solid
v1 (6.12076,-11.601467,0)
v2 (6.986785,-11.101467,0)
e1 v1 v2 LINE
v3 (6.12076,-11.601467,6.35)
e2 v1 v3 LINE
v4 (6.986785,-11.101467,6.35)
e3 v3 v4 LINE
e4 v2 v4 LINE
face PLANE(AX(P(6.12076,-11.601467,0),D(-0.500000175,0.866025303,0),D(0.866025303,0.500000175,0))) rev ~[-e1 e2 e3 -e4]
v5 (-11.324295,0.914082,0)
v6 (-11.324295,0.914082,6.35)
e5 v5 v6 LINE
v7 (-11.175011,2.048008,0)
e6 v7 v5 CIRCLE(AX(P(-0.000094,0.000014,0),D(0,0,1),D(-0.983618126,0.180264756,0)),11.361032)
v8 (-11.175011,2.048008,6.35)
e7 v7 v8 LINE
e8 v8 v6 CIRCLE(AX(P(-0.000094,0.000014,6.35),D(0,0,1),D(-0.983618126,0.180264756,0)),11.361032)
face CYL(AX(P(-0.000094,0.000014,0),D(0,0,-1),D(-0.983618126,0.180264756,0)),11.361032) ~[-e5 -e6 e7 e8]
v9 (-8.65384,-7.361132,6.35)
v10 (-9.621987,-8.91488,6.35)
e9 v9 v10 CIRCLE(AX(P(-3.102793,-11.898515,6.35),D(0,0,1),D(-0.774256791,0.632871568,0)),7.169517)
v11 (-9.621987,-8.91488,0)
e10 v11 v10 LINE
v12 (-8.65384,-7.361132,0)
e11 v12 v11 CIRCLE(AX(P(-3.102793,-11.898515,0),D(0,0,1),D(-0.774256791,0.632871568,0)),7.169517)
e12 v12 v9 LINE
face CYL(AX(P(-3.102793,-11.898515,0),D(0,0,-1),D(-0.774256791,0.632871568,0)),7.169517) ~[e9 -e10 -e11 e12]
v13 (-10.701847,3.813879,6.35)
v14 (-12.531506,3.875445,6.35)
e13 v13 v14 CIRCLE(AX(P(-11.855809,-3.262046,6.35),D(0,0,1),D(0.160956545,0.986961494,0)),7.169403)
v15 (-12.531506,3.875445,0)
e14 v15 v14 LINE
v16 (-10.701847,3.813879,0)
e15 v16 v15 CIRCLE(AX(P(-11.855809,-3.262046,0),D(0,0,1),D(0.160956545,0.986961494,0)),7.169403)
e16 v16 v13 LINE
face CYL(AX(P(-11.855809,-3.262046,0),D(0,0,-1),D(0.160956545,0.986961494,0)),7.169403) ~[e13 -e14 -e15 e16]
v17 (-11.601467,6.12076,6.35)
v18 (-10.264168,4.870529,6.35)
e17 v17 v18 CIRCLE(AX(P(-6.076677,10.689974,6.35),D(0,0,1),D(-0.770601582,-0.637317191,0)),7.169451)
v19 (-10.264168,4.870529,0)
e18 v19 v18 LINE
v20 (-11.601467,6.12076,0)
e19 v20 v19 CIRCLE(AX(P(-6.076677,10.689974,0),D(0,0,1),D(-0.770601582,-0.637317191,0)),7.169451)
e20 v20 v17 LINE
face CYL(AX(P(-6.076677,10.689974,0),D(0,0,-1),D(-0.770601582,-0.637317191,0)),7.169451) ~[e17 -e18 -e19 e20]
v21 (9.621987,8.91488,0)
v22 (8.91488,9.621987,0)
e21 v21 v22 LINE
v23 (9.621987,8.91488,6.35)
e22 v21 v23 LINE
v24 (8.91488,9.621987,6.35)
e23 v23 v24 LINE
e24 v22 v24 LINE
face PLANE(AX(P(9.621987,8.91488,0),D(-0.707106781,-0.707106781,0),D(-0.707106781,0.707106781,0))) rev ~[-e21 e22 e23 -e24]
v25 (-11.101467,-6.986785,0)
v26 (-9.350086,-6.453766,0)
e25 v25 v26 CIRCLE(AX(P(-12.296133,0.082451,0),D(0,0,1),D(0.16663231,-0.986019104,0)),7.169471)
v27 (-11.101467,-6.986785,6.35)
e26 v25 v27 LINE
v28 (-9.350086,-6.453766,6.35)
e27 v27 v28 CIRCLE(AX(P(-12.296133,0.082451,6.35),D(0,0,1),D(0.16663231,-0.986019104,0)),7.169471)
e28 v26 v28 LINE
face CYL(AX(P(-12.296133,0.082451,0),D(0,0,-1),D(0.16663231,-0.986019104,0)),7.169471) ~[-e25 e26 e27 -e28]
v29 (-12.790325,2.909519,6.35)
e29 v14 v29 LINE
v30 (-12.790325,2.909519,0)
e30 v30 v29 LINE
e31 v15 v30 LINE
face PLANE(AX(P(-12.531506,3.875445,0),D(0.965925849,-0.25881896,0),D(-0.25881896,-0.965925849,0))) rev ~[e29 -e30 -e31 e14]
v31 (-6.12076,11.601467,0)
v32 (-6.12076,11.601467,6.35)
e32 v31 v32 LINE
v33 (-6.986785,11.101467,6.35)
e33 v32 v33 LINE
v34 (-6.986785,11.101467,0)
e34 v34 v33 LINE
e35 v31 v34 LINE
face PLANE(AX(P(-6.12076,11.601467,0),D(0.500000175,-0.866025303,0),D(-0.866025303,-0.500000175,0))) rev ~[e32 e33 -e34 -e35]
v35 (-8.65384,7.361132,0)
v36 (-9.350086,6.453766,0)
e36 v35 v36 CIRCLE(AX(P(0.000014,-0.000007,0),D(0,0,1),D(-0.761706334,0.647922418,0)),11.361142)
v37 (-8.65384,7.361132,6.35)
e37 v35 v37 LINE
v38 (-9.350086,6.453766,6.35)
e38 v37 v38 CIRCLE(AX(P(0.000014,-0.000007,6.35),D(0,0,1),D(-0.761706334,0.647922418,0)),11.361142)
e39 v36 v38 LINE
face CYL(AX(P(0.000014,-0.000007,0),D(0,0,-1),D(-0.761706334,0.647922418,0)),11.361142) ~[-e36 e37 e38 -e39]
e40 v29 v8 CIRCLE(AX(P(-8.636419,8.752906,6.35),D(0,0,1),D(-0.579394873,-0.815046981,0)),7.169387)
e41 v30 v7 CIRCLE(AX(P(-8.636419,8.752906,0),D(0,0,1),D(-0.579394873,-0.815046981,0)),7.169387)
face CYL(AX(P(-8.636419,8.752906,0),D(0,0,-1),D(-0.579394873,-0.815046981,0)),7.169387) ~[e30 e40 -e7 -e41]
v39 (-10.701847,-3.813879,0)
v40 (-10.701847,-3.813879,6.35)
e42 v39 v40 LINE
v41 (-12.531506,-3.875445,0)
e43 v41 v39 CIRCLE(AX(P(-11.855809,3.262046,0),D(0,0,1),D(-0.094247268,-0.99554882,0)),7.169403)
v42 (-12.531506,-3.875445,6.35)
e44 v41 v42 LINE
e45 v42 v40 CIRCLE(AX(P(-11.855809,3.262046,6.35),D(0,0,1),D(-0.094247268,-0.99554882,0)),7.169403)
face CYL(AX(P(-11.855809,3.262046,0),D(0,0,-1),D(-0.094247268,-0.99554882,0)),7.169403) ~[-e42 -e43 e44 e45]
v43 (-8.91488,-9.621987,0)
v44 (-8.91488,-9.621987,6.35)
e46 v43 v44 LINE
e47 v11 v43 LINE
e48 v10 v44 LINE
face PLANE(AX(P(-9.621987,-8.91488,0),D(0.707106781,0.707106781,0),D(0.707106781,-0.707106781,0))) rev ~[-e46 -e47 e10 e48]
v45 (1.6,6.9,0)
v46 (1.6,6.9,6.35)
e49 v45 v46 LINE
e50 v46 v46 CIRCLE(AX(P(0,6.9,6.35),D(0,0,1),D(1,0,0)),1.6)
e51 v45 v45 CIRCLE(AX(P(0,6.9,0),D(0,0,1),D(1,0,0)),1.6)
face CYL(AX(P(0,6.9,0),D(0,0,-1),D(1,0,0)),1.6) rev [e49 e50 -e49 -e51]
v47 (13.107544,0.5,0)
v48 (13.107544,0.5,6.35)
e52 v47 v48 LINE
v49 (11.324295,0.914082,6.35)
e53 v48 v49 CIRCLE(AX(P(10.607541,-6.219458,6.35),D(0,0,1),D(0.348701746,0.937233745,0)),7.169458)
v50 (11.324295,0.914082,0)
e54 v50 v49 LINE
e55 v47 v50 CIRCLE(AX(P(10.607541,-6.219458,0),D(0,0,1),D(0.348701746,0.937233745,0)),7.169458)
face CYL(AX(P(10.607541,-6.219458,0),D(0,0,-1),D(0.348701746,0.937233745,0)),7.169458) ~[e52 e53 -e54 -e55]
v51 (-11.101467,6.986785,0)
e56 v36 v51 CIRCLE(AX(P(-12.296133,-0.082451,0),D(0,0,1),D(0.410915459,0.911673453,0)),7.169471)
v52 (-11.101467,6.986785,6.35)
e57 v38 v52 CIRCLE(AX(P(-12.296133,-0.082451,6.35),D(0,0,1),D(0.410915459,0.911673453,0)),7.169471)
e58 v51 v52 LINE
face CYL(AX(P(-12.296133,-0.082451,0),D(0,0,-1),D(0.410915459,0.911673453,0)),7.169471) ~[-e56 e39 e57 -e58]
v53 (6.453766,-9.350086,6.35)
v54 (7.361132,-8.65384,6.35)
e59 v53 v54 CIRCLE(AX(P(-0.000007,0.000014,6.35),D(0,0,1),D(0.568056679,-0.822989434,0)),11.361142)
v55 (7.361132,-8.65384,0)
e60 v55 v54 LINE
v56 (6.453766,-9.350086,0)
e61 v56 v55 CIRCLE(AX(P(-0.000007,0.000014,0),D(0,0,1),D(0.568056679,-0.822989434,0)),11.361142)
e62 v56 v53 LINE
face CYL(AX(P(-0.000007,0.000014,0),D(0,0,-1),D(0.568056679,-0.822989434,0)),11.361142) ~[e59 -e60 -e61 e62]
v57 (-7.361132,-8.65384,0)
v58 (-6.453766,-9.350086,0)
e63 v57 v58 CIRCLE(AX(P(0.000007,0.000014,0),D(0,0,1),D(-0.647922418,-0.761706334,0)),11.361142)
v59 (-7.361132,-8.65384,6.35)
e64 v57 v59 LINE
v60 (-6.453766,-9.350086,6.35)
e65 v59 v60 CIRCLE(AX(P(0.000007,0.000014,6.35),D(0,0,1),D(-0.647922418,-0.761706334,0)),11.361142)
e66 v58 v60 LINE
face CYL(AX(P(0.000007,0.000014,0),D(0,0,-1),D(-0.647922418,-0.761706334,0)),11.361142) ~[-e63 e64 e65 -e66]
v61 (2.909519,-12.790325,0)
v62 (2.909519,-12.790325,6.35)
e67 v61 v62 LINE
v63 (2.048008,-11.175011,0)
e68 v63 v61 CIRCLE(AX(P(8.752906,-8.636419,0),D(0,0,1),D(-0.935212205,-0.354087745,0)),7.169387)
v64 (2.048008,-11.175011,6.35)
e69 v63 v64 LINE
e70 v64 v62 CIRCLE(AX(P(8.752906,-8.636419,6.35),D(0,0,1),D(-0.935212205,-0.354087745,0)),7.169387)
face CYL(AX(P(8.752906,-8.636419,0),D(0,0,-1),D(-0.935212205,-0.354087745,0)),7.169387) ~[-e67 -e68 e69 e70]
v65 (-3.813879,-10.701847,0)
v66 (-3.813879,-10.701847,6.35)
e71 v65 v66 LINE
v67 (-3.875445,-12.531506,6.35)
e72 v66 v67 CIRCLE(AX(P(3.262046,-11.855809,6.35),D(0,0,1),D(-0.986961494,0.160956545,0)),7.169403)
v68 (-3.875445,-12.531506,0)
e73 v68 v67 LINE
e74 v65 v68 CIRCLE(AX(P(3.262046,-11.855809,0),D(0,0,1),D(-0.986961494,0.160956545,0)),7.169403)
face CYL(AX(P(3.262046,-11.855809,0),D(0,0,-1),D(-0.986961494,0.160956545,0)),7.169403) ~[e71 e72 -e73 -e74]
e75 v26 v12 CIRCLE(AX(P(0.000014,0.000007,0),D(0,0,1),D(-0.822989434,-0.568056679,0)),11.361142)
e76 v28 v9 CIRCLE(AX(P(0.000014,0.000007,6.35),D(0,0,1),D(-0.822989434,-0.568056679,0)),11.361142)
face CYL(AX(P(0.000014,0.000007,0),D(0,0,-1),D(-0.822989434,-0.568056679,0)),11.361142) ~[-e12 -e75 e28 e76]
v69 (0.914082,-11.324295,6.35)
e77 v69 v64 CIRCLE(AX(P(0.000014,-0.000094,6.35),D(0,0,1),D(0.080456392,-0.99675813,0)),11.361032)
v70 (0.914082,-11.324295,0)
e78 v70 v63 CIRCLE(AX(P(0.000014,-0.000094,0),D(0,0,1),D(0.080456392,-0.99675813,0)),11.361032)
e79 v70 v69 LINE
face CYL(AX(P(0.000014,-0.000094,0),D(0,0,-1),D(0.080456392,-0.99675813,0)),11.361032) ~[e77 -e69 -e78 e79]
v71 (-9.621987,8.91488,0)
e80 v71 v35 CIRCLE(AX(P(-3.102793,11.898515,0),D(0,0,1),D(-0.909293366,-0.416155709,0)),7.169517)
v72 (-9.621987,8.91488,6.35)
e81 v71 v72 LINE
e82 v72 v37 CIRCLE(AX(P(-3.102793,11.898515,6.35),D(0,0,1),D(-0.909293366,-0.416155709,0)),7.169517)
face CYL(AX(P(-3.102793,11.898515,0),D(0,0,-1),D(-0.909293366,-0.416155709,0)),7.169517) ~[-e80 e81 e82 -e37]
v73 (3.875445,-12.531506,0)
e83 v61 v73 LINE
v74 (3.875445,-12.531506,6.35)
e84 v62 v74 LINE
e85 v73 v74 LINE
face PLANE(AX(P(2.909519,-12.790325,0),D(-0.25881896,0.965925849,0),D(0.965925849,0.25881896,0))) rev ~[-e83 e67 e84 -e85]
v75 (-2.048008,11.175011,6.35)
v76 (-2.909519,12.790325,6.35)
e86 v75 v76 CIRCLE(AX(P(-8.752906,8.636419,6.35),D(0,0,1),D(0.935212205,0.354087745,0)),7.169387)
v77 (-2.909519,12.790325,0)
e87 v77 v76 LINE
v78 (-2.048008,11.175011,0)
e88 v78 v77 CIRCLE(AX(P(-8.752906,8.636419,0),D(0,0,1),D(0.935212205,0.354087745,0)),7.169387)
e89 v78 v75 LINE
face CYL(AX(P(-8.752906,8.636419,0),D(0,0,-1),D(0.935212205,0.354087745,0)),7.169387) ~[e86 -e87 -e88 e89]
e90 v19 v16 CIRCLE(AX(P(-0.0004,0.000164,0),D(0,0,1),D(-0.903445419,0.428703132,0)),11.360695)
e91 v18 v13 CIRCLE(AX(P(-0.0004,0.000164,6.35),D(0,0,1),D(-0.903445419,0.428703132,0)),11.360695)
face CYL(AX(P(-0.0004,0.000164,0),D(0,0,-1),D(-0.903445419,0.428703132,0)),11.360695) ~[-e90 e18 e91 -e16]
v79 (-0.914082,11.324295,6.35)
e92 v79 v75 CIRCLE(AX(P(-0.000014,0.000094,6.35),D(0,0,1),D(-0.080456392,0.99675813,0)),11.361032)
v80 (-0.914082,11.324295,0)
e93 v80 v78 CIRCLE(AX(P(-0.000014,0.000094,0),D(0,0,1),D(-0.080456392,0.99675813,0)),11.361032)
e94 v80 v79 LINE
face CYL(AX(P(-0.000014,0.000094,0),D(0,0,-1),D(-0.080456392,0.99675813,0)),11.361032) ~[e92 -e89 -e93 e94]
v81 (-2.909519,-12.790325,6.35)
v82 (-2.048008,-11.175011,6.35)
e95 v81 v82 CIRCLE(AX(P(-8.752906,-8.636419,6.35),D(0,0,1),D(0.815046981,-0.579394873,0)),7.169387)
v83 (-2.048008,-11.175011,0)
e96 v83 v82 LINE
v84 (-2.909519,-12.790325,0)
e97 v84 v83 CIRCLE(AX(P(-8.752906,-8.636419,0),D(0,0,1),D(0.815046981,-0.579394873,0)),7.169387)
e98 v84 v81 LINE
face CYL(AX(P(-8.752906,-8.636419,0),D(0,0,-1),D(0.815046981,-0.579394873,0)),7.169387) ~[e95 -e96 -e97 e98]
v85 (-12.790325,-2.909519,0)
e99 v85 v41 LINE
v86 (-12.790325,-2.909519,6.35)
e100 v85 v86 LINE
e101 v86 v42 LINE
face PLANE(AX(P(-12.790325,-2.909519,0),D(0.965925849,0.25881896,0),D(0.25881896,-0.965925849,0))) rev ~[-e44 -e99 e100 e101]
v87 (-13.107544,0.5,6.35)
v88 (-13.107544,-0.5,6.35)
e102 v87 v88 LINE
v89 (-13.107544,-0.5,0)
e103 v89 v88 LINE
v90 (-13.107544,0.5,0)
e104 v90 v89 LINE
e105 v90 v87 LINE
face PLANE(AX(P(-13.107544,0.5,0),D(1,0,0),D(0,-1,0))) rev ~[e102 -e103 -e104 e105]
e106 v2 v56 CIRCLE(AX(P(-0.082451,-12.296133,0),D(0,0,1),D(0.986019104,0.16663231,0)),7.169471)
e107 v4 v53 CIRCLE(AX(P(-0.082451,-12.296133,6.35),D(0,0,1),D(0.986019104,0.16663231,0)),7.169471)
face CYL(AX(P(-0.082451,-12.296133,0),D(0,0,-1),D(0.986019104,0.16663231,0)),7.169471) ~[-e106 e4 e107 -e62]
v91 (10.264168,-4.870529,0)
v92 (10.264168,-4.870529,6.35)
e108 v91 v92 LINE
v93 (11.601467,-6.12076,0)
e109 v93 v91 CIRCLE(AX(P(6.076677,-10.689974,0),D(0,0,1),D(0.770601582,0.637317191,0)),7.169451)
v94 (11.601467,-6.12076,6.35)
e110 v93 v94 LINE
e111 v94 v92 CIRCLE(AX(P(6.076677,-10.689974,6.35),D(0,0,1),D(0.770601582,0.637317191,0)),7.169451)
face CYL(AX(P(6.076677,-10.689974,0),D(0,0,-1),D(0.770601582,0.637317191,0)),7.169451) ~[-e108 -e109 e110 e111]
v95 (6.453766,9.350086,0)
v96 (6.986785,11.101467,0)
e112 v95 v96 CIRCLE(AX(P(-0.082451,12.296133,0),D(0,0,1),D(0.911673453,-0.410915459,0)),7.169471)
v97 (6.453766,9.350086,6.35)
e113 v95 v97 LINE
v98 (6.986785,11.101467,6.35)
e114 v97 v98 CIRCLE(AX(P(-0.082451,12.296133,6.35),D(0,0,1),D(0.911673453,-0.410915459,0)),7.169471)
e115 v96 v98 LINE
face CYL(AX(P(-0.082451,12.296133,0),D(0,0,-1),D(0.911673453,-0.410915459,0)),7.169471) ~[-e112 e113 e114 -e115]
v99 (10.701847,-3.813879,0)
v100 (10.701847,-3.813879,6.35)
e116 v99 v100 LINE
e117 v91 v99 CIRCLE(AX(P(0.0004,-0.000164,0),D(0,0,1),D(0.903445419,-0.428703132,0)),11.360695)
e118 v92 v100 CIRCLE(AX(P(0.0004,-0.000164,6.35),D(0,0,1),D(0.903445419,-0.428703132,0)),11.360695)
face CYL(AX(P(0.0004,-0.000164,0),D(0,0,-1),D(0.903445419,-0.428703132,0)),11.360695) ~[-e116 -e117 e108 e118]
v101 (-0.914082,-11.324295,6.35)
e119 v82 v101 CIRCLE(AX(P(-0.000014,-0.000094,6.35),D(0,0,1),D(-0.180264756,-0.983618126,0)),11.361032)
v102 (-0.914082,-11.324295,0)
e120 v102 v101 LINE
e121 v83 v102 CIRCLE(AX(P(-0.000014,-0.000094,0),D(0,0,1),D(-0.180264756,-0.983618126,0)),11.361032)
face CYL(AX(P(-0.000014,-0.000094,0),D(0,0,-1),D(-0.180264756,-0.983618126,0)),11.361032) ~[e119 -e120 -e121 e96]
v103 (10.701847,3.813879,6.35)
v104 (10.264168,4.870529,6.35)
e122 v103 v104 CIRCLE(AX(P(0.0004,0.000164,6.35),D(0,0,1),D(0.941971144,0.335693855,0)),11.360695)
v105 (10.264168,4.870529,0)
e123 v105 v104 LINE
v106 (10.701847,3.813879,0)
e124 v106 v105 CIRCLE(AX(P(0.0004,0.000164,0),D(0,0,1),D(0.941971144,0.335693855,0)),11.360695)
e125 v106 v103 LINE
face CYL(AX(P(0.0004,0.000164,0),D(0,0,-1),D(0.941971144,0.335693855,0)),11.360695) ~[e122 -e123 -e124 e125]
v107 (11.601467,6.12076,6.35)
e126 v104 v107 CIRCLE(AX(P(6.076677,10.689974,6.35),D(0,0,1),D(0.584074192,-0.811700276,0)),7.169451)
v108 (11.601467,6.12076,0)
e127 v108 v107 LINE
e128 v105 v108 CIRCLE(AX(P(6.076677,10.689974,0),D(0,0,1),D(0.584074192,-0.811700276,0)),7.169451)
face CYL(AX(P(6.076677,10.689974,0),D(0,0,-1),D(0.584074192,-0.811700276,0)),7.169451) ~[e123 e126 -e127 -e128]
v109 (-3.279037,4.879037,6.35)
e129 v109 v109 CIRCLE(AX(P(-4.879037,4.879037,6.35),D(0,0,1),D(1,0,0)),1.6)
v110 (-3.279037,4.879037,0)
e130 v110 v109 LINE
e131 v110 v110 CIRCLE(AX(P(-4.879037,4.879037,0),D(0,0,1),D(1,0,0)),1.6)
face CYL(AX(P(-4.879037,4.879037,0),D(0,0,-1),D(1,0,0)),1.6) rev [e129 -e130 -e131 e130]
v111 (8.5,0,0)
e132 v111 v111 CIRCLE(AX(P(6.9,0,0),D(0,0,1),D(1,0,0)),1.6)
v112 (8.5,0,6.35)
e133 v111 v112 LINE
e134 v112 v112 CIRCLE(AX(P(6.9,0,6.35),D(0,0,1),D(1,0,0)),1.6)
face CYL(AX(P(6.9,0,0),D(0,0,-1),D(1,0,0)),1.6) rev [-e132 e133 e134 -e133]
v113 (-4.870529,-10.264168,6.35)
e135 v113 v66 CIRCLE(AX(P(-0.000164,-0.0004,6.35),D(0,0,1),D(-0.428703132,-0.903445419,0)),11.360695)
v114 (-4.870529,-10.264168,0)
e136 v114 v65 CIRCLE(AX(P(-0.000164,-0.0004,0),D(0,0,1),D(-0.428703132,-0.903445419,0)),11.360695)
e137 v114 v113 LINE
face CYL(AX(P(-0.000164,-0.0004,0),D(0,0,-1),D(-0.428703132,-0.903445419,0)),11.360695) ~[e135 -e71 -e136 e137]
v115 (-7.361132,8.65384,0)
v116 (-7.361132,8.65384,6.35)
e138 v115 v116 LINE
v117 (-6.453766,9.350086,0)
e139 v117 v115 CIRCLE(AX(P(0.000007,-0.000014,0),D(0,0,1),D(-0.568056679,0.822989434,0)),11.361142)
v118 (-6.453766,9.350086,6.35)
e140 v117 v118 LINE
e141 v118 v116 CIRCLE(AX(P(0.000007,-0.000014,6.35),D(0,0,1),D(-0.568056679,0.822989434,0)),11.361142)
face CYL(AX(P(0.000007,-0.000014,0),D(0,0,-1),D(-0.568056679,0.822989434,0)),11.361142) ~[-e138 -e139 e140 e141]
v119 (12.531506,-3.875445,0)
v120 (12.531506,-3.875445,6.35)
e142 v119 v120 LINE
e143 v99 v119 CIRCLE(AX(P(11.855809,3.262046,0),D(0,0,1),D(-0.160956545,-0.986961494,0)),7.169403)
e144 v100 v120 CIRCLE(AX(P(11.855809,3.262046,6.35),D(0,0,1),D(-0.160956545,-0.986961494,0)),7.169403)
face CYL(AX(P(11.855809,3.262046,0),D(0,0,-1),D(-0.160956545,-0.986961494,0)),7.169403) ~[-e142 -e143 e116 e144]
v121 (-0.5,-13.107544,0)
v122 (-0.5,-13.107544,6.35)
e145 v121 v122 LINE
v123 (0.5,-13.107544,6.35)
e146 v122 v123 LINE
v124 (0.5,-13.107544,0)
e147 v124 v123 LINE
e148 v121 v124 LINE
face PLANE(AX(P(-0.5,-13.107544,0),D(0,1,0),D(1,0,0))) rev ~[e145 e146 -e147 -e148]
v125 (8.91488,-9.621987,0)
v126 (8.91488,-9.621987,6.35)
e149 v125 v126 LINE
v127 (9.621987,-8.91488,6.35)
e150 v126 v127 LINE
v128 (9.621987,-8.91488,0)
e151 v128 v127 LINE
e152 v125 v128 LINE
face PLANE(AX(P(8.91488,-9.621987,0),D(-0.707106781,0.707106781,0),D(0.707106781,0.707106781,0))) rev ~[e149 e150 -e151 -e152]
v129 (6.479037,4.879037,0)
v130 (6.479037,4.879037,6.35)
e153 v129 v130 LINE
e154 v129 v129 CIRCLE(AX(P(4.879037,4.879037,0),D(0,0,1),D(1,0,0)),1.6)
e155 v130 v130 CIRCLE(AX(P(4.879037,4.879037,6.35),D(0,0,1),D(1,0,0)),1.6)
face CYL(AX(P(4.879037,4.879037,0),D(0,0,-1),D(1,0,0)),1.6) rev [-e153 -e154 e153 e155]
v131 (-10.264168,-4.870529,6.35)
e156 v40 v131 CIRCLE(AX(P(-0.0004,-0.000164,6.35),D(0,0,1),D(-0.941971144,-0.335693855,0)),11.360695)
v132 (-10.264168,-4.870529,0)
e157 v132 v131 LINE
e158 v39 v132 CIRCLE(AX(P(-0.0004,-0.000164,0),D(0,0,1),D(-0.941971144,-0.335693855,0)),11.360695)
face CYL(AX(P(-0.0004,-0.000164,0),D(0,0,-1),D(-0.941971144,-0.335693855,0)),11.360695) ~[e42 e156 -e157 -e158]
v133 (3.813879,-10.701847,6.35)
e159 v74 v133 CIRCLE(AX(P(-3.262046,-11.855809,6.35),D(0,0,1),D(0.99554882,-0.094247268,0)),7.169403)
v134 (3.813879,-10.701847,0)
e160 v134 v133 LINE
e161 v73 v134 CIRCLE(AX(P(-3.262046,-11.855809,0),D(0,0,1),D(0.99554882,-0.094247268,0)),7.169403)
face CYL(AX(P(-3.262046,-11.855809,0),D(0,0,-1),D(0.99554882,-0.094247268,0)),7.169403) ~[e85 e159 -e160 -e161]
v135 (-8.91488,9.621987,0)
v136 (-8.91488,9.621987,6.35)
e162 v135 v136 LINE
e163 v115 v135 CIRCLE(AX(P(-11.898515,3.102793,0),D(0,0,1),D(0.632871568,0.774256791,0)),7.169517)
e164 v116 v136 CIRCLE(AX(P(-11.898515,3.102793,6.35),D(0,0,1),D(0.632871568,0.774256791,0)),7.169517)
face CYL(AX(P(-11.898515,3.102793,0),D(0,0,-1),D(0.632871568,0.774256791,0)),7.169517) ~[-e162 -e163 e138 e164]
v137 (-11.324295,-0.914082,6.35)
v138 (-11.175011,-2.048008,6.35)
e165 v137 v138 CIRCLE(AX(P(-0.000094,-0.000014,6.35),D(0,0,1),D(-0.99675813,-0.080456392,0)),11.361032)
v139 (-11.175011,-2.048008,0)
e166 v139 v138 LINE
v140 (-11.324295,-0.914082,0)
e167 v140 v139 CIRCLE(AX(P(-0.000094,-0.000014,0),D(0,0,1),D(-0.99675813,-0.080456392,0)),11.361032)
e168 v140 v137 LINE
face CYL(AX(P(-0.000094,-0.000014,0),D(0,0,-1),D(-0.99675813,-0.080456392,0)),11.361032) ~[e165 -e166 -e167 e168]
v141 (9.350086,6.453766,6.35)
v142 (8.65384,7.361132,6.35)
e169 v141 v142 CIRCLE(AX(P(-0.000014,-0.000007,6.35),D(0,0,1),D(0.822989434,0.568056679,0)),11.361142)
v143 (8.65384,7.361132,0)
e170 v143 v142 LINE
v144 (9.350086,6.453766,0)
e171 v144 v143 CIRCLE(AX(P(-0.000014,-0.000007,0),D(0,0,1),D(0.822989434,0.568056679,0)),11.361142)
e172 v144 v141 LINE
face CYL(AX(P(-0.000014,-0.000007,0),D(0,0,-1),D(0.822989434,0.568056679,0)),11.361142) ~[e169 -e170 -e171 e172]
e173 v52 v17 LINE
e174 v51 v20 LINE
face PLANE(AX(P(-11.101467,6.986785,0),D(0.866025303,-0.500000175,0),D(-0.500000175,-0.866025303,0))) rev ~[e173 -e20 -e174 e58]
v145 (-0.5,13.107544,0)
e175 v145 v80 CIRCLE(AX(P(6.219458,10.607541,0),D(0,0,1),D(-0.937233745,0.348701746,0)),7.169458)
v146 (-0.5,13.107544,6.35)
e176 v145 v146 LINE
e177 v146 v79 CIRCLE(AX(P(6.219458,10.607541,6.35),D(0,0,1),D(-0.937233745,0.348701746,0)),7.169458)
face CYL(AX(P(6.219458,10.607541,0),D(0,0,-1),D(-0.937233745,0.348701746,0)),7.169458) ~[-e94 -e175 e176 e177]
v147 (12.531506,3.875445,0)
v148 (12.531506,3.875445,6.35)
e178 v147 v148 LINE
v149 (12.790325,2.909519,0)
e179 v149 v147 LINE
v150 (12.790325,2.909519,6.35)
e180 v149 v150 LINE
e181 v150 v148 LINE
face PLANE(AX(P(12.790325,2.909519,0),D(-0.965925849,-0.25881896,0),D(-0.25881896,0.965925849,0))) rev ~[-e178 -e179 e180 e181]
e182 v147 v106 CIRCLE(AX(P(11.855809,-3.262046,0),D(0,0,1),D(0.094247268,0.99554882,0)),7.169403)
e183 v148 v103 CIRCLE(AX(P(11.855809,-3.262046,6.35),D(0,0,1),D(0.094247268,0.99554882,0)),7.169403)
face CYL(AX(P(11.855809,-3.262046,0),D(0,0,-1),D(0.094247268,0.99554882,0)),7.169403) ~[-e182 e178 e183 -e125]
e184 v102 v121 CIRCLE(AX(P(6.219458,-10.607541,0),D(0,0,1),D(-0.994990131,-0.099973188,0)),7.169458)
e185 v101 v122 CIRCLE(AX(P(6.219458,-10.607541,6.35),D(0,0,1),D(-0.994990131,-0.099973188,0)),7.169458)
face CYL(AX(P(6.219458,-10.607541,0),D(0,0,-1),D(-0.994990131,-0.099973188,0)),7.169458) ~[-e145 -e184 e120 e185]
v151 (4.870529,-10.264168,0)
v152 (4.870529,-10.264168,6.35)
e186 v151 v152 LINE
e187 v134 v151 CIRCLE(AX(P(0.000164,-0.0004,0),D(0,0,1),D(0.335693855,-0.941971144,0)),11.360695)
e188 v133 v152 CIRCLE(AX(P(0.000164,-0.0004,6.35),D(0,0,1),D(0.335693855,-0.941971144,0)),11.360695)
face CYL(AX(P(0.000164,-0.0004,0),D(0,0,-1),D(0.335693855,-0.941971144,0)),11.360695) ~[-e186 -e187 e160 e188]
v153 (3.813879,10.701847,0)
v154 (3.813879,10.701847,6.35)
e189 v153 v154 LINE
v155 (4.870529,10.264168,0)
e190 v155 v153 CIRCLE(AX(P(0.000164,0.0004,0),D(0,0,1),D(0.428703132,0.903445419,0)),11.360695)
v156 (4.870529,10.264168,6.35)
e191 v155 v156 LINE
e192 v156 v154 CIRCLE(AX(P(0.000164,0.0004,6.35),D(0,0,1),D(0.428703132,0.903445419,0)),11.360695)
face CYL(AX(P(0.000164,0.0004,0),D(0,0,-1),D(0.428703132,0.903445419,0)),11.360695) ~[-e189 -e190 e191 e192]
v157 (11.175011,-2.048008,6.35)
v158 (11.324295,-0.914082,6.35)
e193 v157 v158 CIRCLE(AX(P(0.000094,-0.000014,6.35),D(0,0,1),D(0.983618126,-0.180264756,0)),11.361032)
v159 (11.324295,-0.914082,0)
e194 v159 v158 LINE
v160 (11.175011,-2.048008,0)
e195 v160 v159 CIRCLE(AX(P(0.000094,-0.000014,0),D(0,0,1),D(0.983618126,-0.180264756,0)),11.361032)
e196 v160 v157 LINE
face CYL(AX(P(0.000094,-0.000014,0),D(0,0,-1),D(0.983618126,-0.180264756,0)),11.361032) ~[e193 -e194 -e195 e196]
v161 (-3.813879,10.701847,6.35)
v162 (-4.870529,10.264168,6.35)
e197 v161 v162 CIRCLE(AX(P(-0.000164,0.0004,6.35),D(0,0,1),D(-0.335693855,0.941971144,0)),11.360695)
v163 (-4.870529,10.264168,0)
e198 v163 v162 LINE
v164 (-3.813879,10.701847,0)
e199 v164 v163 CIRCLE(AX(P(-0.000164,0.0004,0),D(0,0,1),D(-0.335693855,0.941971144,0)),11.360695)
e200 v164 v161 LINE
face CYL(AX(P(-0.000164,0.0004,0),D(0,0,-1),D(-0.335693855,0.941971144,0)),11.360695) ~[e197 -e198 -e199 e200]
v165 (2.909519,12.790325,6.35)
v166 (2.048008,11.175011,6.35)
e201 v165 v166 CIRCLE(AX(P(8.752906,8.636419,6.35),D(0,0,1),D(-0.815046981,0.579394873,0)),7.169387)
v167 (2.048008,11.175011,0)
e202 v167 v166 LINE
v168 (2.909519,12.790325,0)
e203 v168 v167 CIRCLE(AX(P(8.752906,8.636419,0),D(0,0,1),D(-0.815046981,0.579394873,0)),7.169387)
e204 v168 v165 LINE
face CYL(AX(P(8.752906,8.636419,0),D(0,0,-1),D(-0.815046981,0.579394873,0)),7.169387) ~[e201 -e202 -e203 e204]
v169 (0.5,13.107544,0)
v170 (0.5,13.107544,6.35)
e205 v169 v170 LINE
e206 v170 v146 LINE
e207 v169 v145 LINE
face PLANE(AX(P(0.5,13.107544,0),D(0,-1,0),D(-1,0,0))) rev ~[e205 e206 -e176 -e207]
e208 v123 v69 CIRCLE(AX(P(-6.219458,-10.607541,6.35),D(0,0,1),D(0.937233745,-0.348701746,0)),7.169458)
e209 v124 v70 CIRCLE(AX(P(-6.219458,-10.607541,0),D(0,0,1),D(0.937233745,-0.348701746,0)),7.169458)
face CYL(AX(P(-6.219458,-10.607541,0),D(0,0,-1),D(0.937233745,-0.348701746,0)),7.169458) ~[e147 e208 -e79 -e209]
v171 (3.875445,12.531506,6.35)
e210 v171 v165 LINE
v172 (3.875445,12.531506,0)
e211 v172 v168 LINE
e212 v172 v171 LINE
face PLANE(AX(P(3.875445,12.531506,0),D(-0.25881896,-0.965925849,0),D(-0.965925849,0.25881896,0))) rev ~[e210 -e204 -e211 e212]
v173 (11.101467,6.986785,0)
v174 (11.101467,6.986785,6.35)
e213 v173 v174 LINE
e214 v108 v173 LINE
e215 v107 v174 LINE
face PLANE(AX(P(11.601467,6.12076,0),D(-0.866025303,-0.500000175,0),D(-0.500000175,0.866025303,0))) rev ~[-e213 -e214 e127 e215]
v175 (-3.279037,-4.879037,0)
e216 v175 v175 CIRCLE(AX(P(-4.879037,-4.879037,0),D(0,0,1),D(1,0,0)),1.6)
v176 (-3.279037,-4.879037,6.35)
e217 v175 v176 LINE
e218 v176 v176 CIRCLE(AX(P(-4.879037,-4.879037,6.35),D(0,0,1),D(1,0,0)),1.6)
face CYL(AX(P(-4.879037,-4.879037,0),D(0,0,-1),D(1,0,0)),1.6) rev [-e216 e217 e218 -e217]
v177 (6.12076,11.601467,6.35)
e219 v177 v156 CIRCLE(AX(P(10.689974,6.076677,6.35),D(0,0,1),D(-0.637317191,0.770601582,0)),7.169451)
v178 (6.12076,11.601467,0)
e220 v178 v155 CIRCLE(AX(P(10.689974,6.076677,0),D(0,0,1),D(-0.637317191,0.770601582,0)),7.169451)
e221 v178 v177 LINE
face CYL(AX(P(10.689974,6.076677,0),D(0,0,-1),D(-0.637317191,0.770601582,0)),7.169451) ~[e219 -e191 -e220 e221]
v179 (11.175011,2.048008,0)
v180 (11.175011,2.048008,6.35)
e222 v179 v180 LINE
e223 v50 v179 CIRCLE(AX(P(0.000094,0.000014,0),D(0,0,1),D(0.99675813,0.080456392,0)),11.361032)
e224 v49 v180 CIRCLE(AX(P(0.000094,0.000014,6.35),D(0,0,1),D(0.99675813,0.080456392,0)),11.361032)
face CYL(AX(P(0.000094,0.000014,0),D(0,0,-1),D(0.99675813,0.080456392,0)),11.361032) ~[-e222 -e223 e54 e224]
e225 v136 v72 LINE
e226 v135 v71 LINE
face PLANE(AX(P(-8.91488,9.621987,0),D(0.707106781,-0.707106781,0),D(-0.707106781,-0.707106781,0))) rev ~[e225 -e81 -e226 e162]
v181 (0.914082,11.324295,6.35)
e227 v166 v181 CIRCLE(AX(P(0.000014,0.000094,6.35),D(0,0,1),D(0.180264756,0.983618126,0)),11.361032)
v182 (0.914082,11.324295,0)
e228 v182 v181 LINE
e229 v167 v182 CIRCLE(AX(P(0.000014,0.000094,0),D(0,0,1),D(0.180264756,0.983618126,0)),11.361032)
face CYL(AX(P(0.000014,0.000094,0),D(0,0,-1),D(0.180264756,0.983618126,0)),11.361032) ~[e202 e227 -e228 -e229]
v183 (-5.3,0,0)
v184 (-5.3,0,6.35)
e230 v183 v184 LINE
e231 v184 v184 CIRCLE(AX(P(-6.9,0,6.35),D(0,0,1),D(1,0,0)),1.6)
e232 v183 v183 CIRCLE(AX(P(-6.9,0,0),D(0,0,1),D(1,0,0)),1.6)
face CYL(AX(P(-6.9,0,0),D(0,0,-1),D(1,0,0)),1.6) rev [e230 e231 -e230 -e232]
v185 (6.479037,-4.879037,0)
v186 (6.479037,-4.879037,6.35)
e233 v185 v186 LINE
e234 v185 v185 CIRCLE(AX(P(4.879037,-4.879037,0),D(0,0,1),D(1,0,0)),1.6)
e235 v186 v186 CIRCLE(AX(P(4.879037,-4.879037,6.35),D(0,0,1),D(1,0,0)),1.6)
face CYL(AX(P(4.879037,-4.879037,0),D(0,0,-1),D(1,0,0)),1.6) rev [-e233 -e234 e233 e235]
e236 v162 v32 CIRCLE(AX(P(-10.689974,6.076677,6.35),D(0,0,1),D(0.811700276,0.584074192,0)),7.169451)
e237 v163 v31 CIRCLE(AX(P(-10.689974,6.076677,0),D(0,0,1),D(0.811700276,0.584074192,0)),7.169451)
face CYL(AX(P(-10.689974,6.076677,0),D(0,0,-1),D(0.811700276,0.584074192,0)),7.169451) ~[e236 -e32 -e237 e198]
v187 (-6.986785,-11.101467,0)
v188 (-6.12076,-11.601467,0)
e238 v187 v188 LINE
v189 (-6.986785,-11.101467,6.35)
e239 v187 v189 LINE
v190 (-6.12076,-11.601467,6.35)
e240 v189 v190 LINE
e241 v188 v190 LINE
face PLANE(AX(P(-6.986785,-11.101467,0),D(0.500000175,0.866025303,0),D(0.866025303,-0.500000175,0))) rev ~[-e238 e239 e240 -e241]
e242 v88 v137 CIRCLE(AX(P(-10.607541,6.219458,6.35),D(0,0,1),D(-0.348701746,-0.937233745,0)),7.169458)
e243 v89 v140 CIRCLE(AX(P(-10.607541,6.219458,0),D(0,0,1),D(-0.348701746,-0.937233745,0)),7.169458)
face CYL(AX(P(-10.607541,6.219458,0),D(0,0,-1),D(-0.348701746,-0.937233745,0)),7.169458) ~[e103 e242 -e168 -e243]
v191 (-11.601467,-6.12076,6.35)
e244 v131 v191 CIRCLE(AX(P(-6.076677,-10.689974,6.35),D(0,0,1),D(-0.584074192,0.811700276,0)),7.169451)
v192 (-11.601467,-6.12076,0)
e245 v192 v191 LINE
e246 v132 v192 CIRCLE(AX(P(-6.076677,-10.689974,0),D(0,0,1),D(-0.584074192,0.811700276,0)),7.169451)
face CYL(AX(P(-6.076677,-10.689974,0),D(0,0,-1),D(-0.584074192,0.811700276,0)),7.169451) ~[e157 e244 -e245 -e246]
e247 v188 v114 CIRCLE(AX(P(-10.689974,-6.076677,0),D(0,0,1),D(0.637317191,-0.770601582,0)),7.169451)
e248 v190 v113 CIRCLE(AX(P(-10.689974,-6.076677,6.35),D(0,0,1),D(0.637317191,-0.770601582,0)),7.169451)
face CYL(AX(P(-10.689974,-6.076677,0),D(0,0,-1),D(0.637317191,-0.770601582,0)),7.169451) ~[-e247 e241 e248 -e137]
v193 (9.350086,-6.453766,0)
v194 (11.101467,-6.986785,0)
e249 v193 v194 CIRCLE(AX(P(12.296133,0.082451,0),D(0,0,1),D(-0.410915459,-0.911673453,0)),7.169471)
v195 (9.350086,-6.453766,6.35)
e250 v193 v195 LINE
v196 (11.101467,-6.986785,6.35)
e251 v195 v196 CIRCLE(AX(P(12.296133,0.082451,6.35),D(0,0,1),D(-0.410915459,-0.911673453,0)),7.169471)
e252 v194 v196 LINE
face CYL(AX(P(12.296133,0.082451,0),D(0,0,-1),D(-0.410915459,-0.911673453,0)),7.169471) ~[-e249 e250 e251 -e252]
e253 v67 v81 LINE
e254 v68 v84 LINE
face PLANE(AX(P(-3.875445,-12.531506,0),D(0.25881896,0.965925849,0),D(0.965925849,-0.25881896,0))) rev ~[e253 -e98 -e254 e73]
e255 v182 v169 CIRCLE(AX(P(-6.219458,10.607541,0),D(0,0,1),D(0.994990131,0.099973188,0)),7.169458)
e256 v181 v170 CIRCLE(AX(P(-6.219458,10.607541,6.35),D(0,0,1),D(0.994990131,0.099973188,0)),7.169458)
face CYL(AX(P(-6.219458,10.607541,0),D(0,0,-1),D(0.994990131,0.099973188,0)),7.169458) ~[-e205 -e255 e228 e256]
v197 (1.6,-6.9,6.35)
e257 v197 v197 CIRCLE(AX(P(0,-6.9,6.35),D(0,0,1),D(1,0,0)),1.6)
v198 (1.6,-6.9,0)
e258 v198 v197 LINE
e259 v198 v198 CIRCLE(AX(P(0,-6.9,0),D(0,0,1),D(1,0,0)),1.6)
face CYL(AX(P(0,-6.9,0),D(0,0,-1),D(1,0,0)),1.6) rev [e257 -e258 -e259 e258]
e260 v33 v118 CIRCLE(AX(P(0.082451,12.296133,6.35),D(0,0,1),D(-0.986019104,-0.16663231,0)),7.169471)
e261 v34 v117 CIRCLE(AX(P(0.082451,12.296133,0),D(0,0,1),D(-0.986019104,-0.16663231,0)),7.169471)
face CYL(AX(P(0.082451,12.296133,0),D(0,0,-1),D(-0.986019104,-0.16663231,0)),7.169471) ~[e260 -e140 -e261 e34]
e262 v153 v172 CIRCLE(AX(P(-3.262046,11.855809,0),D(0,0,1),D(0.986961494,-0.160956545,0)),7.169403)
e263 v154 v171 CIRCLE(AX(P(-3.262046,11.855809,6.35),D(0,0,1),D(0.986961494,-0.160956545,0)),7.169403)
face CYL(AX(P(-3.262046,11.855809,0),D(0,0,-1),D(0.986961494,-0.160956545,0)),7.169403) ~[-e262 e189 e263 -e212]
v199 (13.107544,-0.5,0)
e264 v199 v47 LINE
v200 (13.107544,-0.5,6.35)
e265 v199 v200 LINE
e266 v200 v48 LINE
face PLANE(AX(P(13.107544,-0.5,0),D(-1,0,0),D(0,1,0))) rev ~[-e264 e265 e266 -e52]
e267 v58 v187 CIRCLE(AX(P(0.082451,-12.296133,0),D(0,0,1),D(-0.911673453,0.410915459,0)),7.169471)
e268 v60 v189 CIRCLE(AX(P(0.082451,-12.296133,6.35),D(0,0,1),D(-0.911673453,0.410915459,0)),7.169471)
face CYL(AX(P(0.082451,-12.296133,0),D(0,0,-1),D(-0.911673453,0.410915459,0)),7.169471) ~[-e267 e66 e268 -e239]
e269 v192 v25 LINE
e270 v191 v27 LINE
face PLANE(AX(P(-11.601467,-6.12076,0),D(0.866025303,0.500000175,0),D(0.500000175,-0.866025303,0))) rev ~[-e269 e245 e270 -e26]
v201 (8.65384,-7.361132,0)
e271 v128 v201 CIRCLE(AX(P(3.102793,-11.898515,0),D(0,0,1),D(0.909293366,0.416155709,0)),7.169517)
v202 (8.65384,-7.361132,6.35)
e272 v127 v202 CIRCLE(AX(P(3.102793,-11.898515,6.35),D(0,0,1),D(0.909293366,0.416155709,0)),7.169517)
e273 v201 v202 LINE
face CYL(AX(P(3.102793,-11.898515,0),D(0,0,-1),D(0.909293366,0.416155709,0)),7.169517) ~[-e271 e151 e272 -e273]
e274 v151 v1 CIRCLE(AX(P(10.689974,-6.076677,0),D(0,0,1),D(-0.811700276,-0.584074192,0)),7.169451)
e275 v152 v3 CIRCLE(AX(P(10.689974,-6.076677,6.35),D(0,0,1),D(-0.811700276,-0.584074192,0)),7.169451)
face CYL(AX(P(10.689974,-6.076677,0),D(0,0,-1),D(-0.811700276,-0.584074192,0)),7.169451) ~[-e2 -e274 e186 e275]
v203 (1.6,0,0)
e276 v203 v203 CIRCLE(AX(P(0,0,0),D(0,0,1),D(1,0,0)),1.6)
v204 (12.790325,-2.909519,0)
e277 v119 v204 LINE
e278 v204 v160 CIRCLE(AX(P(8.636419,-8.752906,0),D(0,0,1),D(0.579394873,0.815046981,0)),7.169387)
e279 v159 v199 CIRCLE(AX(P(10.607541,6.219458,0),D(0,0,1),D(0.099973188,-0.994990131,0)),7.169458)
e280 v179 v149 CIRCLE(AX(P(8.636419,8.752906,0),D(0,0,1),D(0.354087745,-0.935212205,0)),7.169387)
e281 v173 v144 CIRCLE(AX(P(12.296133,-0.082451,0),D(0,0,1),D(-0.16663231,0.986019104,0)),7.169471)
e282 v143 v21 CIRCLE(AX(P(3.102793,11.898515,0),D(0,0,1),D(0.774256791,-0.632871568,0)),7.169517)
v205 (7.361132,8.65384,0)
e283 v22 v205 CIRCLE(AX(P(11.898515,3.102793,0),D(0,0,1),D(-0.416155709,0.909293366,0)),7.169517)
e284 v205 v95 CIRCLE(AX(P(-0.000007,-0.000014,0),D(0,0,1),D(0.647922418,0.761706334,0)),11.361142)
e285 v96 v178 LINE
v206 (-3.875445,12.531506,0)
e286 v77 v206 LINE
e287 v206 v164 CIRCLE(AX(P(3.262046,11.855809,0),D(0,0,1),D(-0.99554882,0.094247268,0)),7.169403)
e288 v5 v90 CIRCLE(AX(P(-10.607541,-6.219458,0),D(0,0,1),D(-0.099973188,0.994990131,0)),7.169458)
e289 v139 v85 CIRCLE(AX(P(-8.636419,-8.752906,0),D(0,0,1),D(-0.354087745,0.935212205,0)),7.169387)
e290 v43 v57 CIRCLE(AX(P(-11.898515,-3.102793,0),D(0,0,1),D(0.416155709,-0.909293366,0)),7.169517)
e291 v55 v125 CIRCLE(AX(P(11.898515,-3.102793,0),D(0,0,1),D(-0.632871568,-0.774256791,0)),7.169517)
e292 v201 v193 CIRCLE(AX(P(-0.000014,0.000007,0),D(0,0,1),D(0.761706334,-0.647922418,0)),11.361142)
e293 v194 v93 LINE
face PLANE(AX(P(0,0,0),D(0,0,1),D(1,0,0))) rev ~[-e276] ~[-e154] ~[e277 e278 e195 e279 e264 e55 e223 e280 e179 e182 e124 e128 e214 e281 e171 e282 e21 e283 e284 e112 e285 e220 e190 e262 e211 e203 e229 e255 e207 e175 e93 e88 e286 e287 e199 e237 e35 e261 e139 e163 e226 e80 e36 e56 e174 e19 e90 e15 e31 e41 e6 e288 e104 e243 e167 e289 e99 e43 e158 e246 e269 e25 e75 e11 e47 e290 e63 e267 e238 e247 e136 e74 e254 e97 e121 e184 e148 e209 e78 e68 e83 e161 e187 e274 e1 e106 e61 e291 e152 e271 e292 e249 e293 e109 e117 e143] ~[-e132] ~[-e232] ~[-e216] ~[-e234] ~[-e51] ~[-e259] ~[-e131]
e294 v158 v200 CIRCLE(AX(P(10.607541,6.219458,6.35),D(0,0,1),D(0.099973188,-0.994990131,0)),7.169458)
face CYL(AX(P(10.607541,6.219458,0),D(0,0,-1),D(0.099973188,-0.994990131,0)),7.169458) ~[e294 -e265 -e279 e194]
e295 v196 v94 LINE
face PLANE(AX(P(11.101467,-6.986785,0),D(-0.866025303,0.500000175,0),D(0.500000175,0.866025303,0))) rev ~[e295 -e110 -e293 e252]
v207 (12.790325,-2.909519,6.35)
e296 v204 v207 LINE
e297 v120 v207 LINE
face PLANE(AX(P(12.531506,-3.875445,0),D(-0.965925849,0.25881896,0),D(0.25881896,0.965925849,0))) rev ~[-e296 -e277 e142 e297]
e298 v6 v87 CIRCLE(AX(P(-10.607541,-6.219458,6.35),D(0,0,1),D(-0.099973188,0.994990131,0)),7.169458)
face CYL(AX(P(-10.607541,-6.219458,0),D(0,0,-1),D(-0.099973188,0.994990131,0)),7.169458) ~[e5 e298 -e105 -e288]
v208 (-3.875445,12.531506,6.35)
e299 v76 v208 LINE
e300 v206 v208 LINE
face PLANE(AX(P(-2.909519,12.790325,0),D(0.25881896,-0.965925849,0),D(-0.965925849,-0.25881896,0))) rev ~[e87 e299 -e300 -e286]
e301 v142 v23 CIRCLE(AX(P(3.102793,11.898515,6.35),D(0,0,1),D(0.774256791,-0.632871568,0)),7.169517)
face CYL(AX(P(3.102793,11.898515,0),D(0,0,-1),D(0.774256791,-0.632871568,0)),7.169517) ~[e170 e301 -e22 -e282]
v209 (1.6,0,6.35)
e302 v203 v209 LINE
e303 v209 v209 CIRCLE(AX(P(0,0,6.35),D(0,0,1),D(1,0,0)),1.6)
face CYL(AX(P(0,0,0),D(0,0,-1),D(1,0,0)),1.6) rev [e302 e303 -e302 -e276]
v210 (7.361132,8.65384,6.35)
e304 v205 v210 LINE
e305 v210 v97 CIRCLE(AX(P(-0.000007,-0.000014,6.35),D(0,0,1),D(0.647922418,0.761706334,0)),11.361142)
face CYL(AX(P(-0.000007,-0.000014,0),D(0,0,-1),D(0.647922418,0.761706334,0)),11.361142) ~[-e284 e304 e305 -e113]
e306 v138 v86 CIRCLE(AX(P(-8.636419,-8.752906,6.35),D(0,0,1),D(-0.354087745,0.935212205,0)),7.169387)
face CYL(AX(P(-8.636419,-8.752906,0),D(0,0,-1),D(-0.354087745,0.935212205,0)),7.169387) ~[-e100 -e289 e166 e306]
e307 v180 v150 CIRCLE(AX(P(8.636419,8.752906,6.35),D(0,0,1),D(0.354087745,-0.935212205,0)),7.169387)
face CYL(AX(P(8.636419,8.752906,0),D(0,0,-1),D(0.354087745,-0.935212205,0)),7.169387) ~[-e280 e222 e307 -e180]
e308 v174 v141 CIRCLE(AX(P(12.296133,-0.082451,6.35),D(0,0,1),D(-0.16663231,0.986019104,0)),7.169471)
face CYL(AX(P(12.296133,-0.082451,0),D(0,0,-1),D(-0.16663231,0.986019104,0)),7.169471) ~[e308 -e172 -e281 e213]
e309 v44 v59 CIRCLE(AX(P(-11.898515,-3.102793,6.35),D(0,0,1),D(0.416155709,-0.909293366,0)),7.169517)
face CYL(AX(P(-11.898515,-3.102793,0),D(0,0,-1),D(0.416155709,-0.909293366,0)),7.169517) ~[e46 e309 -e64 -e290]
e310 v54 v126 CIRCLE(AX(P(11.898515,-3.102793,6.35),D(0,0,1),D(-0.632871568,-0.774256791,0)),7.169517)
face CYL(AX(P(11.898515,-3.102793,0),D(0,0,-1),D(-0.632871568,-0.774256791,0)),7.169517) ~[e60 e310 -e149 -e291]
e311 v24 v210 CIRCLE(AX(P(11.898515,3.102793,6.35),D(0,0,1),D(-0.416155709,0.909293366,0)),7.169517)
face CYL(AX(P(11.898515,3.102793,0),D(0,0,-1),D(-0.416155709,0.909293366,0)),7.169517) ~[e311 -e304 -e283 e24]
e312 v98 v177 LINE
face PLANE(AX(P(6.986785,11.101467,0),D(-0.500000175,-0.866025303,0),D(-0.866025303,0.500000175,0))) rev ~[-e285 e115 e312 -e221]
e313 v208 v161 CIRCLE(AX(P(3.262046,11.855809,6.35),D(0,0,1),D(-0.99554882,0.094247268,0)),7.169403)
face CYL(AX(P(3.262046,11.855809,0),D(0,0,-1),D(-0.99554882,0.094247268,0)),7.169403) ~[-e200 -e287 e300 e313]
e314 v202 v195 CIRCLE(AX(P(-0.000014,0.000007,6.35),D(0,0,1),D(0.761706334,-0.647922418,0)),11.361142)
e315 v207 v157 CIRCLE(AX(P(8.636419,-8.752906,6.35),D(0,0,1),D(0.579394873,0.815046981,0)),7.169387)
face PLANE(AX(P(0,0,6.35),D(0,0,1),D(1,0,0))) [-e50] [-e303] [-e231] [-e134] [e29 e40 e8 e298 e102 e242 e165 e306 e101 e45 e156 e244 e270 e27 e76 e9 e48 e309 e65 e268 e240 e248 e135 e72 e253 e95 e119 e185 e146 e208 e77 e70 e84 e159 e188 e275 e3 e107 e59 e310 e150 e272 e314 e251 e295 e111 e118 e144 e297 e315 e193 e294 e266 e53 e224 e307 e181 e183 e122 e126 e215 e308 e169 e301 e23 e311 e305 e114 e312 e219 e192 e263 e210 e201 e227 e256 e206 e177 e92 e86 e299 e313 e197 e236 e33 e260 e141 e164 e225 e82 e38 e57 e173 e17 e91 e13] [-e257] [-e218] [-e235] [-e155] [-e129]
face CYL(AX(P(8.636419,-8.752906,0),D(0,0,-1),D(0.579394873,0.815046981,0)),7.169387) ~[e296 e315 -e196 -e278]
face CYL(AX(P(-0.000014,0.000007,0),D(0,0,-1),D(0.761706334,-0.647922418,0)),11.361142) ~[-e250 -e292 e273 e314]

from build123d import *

# Parameters (mm, degrees)
F0_R     = 1.6
F1_DEPTH = 6.35


with BuildPart() as f1:
    # F0 (on Top) → F1 (new body)
    with BuildSketch(Plane.XY):
        with BuildLine():
            Line((0.5, 13.107544), (-0.5, 13.107544))
            ThreePointArc((-0.5, 13.107544), (-0.764193, 12.229191), (-0.914082, 11.324295))
            ThreePointArc((-0.914082, 11.324295), (-1.482925, 11.263931), (-2.048008, 11.175011))
            ThreePointArc((-2.048008, 11.175011), (-2.426993, 12.010279), (-2.909519, 12.790325))
            Line((-2.909519, 12.790325), (-3.875445, 12.531506))
            ThreePointArc((-3.875445, 12.531506), (-3.903302, 11.614704), (-3.813879, 10.701847))
            ThreePointArc((-3.813879, 10.701847), (-4.347715, 10.496313), (-4.870529, 10.264168))
            ThreePointArc((-4.870529, 10.264168), (-5.452785, 10.972887), (-6.12076, 11.601467))
            Line((-6.12076, 11.601467), (-6.986785, 11.101467))
            ThreePointArc((-6.986785, 11.101467), (-6.776406, 10.208693), (-6.453766, 9.350086))
            ThreePointArc((-6.453766, 9.350086), (-6.916216, 9.013388), (-7.361132, 8.65384))
            ThreePointArc((-7.361132, 8.65384), (-8.106978, 9.18771), (-8.91488, 9.621987))
            Line((-8.91488, 9.621987), (-9.621987, 8.91488))
            ThreePointArc((-9.621987, 8.91488), (-9.18771, 8.106978), (-8.65384, 7.361132))
            ThreePointArc((-8.65384, 7.361132), (-9.013388, 6.916216), (-9.350086, 6.453766))
            ThreePointArc((-9.350086, 6.453766), (-10.208693, 6.776406), (-11.101467, 6.986785))
            Line((-11.101467, 6.986785), (-11.601467, 6.12076))
            ThreePointArc((-11.601467, 6.12076), (-10.972887, 5.452785), (-10.264168, 4.870529))
            ThreePointArc((-10.264168, 4.870529), (-10.496313, 4.347715), (-10.701847, 3.813879))
            ThreePointArc((-10.701847, 3.813879), (-11.614704, 3.903302), (-12.531506, 3.875445))
            Line((-12.531506, 3.875445), (-12.790325, 2.909519))
            ThreePointArc((-12.790325, 2.909519), (-12.010279, 2.426993), (-11.175011, 2.048008))
            ThreePointArc((-11.175011, 2.048008), (-11.263931, 1.482925), (-11.324295, 0.914082))
            ThreePointArc((-11.324295, 0.914082), (-12.229191, 0.764193), (-13.107544, 0.5))
            Line((-13.107544, 0.5), (-13.107544, -0.5))
            ThreePointArc((-13.107544, -0.5), (-12.229191, -0.764193), (-11.324295, -0.914082))
            ThreePointArc((-11.324295, -0.914082), (-11.263931, -1.482925), (-11.175011, -2.048008))
            ThreePointArc((-11.175011, -2.048008), (-12.010279, -2.426993), (-12.790325, -2.909519))
            Line((-12.790325, -2.909519), (-12.531506, -3.875445))
            ThreePointArc((-12.531506, -3.875445), (-11.614704, -3.903302), (-10.701847, -3.813879))
            ThreePointArc((-10.701847, -3.813879), (-10.496313, -4.347715), (-10.264168, -4.870529))
            ThreePointArc((-10.264168, -4.870529), (-10.972887, -5.452785), (-11.601467, -6.12076))
            Line((-11.601467, -6.12076), (-11.101467, -6.986785))
            ThreePointArc((-11.101467, -6.986785), (-10.208693, -6.776406), (-9.350086, -6.453766))
            ThreePointArc((-9.350086, -6.453766), (-9.013388, -6.916216), (-8.65384, -7.361132))
            ThreePointArc((-8.65384, -7.361132), (-9.18771, -8.106978), (-9.621987, -8.91488))
            Line((-9.621987, -8.91488), (-8.91488, -9.621987))
            ThreePointArc((-8.91488, -9.621987), (-8.106978, -9.18771), (-7.361132, -8.65384))
            ThreePointArc((-7.361132, -8.65384), (-6.916216, -9.013388), (-6.453766, -9.350086))
            ThreePointArc((-6.453766, -9.350086), (-6.776406, -10.208693), (-6.986785, -11.101467))
            Line((-6.986785, -11.101467), (-6.12076, -11.601467))
            ThreePointArc((-6.12076, -11.601467), (-5.452785, -10.972887), (-4.870529, -10.264168))
            ThreePointArc((-4.870529, -10.264168), (-4.347715, -10.496313), (-3.813879, -10.701847))
            ThreePointArc((-3.813879, -10.701847), (-3.903302, -11.614704), (-3.875445, -12.531506))
            Line((-3.875445, -12.531506), (-2.909519, -12.790325))
            ThreePointArc((-2.909519, -12.790325), (-2.426993, -12.010279), (-2.048008, -11.175011))
            ThreePointArc((-2.048008, -11.175011), (-1.482925, -11.263931), (-0.914082, -11.324295))
            ThreePointArc((-0.914082, -11.324295), (-0.764193, -12.229191), (-0.5, -13.107544))
            Line((-0.5, -13.107544), (0.5, -13.107544))
            ThreePointArc((0.5, -13.107544), (0.764193, -12.229191), (0.914082, -11.324295))
            ThreePointArc((0.914082, -11.324295), (1.482925, -11.263931), (2.048008, -11.175011))
            ThreePointArc((2.048008, -11.175011), (2.426993, -12.010279), (2.909519, -12.790325))
            Line((2.909519, -12.790325), (3.875445, -12.531506))
            ThreePointArc((3.875445, -12.531506), (3.903302, -11.614704), (3.813879, -10.701847))
            ThreePointArc((3.813879, -10.701847), (4.347715, -10.496313), (4.870529, -10.264168))
            ThreePointArc((4.870529, -10.264168), (5.452785, -10.972887), (6.12076, -11.601467))
            Line((6.12076, -11.601467), (6.986785, -11.101467))
            ThreePointArc((6.986785, -11.101467), (6.776406, -10.208693), (6.453766, -9.350086))
            ThreePointArc((6.453766, -9.350086), (6.916216, -9.013388), (7.361132, -8.65384))
            ThreePointArc((7.361132, -8.65384), (8.106978, -9.18771), (8.91488, -9.621987))
            Line((8.91488, -9.621987), (9.621987, -8.91488))
            ThreePointArc((9.621987, -8.91488), (9.18771, -8.106978), (8.65384, -7.361132))
            ThreePointArc((8.65384, -7.361132), (9.013388, -6.916216), (9.350086, -6.453766))
            ThreePointArc((9.350086, -6.453766), (10.208693, -6.776406), (11.101467, -6.986785))
            Line((11.101467, -6.986785), (11.601467, -6.12076))
            ThreePointArc((11.601467, -6.12076), (10.972887, -5.452785), (10.264168, -4.870529))
            ThreePointArc((10.264168, -4.870529), (10.496313, -4.347715), (10.701847, -3.813879))
            ThreePointArc((10.701847, -3.813879), (11.614704, -3.903302), (12.531506, -3.875445))
            Line((12.531506, -3.875445), (12.790325, -2.909519))
            ThreePointArc((12.790325, -2.909519), (12.010279, -2.426993), (11.175011, -2.048008))
            ThreePointArc((11.175011, -2.048008), (11.263931, -1.482925), (11.324295, -0.914082))
            ThreePointArc((11.324295, -0.914082), (12.229191, -0.764193), (13.107544, -0.5))
            Line((13.107544, -0.5), (13.107544, 0.5))
            ThreePointArc((13.107544, 0.5), (12.229191, 0.764193), (11.324295, 0.914082))
            ThreePointArc((11.324295, 0.914082), (11.263931, 1.482925), (11.175011, 2.048008))
            ThreePointArc((11.175011, 2.048008), (12.010279, 2.426993), (12.790325, 2.909519))
            Line((12.790325, 2.909519), (12.531506, 3.875445))
            ThreePointArc((12.531506, 3.875445), (11.614704, 3.903302), (10.701847, 3.813879))
            ThreePointArc((10.701847, 3.813879), (10.496313, 4.347715), (10.264168, 4.870529))
            ThreePointArc((10.264168, 4.870529), (10.972887, 5.452785), (11.601467, 6.12076))
            Line((11.601467, 6.12076), (11.101467, 6.986785))
            ThreePointArc((11.101467, 6.986785), (10.208693, 6.776406), (9.350086, 6.453766))
            ThreePointArc((9.350086, 6.453766), (9.013388, 6.916216), (8.65384, 7.361132))
            ThreePointArc((8.65384, 7.361132), (9.18771, 8.106978), (9.621987, 8.91488))
            Line((9.621987, 8.91488), (8.91488, 9.621987))
            ThreePointArc((8.91488, 9.621987), (8.106978, 9.18771), (7.361132, 8.65384))
            ThreePointArc((7.361132, 8.65384), (6.916216, 9.013388), (6.453766, 9.350086))
            ThreePointArc((6.453766, 9.350086), (6.776406, 10.208693), (6.986785, 11.101467))
            Line((6.986785, 11.101467), (6.12076, 11.601467))
            ThreePointArc((6.12076, 11.601467), (5.452785, 10.972887), (4.870529, 10.264168))
            ThreePointArc((4.870529, 10.264168), (4.347715, 10.496313), (3.813879, 10.701847))
            ThreePointArc((3.813879, 10.701847), (3.903302, 11.614704), (3.875445, 12.531506))
            Line((3.875445, 12.531506), (2.909519, 12.790325))
            ThreePointArc((2.909519, 12.790325), (2.426993, 12.010279), (2.048008, 11.175011))
            ThreePointArc((2.048008, 11.175011), (1.482925, 11.263931), (0.914082, 11.324295))
            ThreePointArc((0.914082, 11.324295), (0.764193, 12.229191), (0.5, 13.107544))
        make_face()
        with Locations((-4.879037, -4.879037)):
            Circle(F0_R, mode=Mode.SUBTRACT)
        with Locations((0, -6.9)):
            Circle(F0_R, mode=Mode.SUBTRACT)
        with Locations((4.879037, -4.879037)):
            Circle(F0_R, mode=Mode.SUBTRACT)
        with Locations((-6.9, 0)):
            Circle(F0_R, mode=Mode.SUBTRACT)
        with Locations((-4.879037, 4.879037)):
            Circle(F0_R, mode=Mode.SUBTRACT)
        Circle(F0_R, mode=Mode.SUBTRACT)
        with Locations((4.879037, 4.879037)):
            Circle(F0_R, mode=Mode.SUBTRACT)
        with Locations((6.9, 0)):
            Circle(F0_R, mode=Mode.SUBTRACT)
        with Locations((0, 6.9)):
            Circle(F0_R, mode=Mode.SUBTRACT)
    extrude(amount=F1_DEPTH)


solid = f1.part
